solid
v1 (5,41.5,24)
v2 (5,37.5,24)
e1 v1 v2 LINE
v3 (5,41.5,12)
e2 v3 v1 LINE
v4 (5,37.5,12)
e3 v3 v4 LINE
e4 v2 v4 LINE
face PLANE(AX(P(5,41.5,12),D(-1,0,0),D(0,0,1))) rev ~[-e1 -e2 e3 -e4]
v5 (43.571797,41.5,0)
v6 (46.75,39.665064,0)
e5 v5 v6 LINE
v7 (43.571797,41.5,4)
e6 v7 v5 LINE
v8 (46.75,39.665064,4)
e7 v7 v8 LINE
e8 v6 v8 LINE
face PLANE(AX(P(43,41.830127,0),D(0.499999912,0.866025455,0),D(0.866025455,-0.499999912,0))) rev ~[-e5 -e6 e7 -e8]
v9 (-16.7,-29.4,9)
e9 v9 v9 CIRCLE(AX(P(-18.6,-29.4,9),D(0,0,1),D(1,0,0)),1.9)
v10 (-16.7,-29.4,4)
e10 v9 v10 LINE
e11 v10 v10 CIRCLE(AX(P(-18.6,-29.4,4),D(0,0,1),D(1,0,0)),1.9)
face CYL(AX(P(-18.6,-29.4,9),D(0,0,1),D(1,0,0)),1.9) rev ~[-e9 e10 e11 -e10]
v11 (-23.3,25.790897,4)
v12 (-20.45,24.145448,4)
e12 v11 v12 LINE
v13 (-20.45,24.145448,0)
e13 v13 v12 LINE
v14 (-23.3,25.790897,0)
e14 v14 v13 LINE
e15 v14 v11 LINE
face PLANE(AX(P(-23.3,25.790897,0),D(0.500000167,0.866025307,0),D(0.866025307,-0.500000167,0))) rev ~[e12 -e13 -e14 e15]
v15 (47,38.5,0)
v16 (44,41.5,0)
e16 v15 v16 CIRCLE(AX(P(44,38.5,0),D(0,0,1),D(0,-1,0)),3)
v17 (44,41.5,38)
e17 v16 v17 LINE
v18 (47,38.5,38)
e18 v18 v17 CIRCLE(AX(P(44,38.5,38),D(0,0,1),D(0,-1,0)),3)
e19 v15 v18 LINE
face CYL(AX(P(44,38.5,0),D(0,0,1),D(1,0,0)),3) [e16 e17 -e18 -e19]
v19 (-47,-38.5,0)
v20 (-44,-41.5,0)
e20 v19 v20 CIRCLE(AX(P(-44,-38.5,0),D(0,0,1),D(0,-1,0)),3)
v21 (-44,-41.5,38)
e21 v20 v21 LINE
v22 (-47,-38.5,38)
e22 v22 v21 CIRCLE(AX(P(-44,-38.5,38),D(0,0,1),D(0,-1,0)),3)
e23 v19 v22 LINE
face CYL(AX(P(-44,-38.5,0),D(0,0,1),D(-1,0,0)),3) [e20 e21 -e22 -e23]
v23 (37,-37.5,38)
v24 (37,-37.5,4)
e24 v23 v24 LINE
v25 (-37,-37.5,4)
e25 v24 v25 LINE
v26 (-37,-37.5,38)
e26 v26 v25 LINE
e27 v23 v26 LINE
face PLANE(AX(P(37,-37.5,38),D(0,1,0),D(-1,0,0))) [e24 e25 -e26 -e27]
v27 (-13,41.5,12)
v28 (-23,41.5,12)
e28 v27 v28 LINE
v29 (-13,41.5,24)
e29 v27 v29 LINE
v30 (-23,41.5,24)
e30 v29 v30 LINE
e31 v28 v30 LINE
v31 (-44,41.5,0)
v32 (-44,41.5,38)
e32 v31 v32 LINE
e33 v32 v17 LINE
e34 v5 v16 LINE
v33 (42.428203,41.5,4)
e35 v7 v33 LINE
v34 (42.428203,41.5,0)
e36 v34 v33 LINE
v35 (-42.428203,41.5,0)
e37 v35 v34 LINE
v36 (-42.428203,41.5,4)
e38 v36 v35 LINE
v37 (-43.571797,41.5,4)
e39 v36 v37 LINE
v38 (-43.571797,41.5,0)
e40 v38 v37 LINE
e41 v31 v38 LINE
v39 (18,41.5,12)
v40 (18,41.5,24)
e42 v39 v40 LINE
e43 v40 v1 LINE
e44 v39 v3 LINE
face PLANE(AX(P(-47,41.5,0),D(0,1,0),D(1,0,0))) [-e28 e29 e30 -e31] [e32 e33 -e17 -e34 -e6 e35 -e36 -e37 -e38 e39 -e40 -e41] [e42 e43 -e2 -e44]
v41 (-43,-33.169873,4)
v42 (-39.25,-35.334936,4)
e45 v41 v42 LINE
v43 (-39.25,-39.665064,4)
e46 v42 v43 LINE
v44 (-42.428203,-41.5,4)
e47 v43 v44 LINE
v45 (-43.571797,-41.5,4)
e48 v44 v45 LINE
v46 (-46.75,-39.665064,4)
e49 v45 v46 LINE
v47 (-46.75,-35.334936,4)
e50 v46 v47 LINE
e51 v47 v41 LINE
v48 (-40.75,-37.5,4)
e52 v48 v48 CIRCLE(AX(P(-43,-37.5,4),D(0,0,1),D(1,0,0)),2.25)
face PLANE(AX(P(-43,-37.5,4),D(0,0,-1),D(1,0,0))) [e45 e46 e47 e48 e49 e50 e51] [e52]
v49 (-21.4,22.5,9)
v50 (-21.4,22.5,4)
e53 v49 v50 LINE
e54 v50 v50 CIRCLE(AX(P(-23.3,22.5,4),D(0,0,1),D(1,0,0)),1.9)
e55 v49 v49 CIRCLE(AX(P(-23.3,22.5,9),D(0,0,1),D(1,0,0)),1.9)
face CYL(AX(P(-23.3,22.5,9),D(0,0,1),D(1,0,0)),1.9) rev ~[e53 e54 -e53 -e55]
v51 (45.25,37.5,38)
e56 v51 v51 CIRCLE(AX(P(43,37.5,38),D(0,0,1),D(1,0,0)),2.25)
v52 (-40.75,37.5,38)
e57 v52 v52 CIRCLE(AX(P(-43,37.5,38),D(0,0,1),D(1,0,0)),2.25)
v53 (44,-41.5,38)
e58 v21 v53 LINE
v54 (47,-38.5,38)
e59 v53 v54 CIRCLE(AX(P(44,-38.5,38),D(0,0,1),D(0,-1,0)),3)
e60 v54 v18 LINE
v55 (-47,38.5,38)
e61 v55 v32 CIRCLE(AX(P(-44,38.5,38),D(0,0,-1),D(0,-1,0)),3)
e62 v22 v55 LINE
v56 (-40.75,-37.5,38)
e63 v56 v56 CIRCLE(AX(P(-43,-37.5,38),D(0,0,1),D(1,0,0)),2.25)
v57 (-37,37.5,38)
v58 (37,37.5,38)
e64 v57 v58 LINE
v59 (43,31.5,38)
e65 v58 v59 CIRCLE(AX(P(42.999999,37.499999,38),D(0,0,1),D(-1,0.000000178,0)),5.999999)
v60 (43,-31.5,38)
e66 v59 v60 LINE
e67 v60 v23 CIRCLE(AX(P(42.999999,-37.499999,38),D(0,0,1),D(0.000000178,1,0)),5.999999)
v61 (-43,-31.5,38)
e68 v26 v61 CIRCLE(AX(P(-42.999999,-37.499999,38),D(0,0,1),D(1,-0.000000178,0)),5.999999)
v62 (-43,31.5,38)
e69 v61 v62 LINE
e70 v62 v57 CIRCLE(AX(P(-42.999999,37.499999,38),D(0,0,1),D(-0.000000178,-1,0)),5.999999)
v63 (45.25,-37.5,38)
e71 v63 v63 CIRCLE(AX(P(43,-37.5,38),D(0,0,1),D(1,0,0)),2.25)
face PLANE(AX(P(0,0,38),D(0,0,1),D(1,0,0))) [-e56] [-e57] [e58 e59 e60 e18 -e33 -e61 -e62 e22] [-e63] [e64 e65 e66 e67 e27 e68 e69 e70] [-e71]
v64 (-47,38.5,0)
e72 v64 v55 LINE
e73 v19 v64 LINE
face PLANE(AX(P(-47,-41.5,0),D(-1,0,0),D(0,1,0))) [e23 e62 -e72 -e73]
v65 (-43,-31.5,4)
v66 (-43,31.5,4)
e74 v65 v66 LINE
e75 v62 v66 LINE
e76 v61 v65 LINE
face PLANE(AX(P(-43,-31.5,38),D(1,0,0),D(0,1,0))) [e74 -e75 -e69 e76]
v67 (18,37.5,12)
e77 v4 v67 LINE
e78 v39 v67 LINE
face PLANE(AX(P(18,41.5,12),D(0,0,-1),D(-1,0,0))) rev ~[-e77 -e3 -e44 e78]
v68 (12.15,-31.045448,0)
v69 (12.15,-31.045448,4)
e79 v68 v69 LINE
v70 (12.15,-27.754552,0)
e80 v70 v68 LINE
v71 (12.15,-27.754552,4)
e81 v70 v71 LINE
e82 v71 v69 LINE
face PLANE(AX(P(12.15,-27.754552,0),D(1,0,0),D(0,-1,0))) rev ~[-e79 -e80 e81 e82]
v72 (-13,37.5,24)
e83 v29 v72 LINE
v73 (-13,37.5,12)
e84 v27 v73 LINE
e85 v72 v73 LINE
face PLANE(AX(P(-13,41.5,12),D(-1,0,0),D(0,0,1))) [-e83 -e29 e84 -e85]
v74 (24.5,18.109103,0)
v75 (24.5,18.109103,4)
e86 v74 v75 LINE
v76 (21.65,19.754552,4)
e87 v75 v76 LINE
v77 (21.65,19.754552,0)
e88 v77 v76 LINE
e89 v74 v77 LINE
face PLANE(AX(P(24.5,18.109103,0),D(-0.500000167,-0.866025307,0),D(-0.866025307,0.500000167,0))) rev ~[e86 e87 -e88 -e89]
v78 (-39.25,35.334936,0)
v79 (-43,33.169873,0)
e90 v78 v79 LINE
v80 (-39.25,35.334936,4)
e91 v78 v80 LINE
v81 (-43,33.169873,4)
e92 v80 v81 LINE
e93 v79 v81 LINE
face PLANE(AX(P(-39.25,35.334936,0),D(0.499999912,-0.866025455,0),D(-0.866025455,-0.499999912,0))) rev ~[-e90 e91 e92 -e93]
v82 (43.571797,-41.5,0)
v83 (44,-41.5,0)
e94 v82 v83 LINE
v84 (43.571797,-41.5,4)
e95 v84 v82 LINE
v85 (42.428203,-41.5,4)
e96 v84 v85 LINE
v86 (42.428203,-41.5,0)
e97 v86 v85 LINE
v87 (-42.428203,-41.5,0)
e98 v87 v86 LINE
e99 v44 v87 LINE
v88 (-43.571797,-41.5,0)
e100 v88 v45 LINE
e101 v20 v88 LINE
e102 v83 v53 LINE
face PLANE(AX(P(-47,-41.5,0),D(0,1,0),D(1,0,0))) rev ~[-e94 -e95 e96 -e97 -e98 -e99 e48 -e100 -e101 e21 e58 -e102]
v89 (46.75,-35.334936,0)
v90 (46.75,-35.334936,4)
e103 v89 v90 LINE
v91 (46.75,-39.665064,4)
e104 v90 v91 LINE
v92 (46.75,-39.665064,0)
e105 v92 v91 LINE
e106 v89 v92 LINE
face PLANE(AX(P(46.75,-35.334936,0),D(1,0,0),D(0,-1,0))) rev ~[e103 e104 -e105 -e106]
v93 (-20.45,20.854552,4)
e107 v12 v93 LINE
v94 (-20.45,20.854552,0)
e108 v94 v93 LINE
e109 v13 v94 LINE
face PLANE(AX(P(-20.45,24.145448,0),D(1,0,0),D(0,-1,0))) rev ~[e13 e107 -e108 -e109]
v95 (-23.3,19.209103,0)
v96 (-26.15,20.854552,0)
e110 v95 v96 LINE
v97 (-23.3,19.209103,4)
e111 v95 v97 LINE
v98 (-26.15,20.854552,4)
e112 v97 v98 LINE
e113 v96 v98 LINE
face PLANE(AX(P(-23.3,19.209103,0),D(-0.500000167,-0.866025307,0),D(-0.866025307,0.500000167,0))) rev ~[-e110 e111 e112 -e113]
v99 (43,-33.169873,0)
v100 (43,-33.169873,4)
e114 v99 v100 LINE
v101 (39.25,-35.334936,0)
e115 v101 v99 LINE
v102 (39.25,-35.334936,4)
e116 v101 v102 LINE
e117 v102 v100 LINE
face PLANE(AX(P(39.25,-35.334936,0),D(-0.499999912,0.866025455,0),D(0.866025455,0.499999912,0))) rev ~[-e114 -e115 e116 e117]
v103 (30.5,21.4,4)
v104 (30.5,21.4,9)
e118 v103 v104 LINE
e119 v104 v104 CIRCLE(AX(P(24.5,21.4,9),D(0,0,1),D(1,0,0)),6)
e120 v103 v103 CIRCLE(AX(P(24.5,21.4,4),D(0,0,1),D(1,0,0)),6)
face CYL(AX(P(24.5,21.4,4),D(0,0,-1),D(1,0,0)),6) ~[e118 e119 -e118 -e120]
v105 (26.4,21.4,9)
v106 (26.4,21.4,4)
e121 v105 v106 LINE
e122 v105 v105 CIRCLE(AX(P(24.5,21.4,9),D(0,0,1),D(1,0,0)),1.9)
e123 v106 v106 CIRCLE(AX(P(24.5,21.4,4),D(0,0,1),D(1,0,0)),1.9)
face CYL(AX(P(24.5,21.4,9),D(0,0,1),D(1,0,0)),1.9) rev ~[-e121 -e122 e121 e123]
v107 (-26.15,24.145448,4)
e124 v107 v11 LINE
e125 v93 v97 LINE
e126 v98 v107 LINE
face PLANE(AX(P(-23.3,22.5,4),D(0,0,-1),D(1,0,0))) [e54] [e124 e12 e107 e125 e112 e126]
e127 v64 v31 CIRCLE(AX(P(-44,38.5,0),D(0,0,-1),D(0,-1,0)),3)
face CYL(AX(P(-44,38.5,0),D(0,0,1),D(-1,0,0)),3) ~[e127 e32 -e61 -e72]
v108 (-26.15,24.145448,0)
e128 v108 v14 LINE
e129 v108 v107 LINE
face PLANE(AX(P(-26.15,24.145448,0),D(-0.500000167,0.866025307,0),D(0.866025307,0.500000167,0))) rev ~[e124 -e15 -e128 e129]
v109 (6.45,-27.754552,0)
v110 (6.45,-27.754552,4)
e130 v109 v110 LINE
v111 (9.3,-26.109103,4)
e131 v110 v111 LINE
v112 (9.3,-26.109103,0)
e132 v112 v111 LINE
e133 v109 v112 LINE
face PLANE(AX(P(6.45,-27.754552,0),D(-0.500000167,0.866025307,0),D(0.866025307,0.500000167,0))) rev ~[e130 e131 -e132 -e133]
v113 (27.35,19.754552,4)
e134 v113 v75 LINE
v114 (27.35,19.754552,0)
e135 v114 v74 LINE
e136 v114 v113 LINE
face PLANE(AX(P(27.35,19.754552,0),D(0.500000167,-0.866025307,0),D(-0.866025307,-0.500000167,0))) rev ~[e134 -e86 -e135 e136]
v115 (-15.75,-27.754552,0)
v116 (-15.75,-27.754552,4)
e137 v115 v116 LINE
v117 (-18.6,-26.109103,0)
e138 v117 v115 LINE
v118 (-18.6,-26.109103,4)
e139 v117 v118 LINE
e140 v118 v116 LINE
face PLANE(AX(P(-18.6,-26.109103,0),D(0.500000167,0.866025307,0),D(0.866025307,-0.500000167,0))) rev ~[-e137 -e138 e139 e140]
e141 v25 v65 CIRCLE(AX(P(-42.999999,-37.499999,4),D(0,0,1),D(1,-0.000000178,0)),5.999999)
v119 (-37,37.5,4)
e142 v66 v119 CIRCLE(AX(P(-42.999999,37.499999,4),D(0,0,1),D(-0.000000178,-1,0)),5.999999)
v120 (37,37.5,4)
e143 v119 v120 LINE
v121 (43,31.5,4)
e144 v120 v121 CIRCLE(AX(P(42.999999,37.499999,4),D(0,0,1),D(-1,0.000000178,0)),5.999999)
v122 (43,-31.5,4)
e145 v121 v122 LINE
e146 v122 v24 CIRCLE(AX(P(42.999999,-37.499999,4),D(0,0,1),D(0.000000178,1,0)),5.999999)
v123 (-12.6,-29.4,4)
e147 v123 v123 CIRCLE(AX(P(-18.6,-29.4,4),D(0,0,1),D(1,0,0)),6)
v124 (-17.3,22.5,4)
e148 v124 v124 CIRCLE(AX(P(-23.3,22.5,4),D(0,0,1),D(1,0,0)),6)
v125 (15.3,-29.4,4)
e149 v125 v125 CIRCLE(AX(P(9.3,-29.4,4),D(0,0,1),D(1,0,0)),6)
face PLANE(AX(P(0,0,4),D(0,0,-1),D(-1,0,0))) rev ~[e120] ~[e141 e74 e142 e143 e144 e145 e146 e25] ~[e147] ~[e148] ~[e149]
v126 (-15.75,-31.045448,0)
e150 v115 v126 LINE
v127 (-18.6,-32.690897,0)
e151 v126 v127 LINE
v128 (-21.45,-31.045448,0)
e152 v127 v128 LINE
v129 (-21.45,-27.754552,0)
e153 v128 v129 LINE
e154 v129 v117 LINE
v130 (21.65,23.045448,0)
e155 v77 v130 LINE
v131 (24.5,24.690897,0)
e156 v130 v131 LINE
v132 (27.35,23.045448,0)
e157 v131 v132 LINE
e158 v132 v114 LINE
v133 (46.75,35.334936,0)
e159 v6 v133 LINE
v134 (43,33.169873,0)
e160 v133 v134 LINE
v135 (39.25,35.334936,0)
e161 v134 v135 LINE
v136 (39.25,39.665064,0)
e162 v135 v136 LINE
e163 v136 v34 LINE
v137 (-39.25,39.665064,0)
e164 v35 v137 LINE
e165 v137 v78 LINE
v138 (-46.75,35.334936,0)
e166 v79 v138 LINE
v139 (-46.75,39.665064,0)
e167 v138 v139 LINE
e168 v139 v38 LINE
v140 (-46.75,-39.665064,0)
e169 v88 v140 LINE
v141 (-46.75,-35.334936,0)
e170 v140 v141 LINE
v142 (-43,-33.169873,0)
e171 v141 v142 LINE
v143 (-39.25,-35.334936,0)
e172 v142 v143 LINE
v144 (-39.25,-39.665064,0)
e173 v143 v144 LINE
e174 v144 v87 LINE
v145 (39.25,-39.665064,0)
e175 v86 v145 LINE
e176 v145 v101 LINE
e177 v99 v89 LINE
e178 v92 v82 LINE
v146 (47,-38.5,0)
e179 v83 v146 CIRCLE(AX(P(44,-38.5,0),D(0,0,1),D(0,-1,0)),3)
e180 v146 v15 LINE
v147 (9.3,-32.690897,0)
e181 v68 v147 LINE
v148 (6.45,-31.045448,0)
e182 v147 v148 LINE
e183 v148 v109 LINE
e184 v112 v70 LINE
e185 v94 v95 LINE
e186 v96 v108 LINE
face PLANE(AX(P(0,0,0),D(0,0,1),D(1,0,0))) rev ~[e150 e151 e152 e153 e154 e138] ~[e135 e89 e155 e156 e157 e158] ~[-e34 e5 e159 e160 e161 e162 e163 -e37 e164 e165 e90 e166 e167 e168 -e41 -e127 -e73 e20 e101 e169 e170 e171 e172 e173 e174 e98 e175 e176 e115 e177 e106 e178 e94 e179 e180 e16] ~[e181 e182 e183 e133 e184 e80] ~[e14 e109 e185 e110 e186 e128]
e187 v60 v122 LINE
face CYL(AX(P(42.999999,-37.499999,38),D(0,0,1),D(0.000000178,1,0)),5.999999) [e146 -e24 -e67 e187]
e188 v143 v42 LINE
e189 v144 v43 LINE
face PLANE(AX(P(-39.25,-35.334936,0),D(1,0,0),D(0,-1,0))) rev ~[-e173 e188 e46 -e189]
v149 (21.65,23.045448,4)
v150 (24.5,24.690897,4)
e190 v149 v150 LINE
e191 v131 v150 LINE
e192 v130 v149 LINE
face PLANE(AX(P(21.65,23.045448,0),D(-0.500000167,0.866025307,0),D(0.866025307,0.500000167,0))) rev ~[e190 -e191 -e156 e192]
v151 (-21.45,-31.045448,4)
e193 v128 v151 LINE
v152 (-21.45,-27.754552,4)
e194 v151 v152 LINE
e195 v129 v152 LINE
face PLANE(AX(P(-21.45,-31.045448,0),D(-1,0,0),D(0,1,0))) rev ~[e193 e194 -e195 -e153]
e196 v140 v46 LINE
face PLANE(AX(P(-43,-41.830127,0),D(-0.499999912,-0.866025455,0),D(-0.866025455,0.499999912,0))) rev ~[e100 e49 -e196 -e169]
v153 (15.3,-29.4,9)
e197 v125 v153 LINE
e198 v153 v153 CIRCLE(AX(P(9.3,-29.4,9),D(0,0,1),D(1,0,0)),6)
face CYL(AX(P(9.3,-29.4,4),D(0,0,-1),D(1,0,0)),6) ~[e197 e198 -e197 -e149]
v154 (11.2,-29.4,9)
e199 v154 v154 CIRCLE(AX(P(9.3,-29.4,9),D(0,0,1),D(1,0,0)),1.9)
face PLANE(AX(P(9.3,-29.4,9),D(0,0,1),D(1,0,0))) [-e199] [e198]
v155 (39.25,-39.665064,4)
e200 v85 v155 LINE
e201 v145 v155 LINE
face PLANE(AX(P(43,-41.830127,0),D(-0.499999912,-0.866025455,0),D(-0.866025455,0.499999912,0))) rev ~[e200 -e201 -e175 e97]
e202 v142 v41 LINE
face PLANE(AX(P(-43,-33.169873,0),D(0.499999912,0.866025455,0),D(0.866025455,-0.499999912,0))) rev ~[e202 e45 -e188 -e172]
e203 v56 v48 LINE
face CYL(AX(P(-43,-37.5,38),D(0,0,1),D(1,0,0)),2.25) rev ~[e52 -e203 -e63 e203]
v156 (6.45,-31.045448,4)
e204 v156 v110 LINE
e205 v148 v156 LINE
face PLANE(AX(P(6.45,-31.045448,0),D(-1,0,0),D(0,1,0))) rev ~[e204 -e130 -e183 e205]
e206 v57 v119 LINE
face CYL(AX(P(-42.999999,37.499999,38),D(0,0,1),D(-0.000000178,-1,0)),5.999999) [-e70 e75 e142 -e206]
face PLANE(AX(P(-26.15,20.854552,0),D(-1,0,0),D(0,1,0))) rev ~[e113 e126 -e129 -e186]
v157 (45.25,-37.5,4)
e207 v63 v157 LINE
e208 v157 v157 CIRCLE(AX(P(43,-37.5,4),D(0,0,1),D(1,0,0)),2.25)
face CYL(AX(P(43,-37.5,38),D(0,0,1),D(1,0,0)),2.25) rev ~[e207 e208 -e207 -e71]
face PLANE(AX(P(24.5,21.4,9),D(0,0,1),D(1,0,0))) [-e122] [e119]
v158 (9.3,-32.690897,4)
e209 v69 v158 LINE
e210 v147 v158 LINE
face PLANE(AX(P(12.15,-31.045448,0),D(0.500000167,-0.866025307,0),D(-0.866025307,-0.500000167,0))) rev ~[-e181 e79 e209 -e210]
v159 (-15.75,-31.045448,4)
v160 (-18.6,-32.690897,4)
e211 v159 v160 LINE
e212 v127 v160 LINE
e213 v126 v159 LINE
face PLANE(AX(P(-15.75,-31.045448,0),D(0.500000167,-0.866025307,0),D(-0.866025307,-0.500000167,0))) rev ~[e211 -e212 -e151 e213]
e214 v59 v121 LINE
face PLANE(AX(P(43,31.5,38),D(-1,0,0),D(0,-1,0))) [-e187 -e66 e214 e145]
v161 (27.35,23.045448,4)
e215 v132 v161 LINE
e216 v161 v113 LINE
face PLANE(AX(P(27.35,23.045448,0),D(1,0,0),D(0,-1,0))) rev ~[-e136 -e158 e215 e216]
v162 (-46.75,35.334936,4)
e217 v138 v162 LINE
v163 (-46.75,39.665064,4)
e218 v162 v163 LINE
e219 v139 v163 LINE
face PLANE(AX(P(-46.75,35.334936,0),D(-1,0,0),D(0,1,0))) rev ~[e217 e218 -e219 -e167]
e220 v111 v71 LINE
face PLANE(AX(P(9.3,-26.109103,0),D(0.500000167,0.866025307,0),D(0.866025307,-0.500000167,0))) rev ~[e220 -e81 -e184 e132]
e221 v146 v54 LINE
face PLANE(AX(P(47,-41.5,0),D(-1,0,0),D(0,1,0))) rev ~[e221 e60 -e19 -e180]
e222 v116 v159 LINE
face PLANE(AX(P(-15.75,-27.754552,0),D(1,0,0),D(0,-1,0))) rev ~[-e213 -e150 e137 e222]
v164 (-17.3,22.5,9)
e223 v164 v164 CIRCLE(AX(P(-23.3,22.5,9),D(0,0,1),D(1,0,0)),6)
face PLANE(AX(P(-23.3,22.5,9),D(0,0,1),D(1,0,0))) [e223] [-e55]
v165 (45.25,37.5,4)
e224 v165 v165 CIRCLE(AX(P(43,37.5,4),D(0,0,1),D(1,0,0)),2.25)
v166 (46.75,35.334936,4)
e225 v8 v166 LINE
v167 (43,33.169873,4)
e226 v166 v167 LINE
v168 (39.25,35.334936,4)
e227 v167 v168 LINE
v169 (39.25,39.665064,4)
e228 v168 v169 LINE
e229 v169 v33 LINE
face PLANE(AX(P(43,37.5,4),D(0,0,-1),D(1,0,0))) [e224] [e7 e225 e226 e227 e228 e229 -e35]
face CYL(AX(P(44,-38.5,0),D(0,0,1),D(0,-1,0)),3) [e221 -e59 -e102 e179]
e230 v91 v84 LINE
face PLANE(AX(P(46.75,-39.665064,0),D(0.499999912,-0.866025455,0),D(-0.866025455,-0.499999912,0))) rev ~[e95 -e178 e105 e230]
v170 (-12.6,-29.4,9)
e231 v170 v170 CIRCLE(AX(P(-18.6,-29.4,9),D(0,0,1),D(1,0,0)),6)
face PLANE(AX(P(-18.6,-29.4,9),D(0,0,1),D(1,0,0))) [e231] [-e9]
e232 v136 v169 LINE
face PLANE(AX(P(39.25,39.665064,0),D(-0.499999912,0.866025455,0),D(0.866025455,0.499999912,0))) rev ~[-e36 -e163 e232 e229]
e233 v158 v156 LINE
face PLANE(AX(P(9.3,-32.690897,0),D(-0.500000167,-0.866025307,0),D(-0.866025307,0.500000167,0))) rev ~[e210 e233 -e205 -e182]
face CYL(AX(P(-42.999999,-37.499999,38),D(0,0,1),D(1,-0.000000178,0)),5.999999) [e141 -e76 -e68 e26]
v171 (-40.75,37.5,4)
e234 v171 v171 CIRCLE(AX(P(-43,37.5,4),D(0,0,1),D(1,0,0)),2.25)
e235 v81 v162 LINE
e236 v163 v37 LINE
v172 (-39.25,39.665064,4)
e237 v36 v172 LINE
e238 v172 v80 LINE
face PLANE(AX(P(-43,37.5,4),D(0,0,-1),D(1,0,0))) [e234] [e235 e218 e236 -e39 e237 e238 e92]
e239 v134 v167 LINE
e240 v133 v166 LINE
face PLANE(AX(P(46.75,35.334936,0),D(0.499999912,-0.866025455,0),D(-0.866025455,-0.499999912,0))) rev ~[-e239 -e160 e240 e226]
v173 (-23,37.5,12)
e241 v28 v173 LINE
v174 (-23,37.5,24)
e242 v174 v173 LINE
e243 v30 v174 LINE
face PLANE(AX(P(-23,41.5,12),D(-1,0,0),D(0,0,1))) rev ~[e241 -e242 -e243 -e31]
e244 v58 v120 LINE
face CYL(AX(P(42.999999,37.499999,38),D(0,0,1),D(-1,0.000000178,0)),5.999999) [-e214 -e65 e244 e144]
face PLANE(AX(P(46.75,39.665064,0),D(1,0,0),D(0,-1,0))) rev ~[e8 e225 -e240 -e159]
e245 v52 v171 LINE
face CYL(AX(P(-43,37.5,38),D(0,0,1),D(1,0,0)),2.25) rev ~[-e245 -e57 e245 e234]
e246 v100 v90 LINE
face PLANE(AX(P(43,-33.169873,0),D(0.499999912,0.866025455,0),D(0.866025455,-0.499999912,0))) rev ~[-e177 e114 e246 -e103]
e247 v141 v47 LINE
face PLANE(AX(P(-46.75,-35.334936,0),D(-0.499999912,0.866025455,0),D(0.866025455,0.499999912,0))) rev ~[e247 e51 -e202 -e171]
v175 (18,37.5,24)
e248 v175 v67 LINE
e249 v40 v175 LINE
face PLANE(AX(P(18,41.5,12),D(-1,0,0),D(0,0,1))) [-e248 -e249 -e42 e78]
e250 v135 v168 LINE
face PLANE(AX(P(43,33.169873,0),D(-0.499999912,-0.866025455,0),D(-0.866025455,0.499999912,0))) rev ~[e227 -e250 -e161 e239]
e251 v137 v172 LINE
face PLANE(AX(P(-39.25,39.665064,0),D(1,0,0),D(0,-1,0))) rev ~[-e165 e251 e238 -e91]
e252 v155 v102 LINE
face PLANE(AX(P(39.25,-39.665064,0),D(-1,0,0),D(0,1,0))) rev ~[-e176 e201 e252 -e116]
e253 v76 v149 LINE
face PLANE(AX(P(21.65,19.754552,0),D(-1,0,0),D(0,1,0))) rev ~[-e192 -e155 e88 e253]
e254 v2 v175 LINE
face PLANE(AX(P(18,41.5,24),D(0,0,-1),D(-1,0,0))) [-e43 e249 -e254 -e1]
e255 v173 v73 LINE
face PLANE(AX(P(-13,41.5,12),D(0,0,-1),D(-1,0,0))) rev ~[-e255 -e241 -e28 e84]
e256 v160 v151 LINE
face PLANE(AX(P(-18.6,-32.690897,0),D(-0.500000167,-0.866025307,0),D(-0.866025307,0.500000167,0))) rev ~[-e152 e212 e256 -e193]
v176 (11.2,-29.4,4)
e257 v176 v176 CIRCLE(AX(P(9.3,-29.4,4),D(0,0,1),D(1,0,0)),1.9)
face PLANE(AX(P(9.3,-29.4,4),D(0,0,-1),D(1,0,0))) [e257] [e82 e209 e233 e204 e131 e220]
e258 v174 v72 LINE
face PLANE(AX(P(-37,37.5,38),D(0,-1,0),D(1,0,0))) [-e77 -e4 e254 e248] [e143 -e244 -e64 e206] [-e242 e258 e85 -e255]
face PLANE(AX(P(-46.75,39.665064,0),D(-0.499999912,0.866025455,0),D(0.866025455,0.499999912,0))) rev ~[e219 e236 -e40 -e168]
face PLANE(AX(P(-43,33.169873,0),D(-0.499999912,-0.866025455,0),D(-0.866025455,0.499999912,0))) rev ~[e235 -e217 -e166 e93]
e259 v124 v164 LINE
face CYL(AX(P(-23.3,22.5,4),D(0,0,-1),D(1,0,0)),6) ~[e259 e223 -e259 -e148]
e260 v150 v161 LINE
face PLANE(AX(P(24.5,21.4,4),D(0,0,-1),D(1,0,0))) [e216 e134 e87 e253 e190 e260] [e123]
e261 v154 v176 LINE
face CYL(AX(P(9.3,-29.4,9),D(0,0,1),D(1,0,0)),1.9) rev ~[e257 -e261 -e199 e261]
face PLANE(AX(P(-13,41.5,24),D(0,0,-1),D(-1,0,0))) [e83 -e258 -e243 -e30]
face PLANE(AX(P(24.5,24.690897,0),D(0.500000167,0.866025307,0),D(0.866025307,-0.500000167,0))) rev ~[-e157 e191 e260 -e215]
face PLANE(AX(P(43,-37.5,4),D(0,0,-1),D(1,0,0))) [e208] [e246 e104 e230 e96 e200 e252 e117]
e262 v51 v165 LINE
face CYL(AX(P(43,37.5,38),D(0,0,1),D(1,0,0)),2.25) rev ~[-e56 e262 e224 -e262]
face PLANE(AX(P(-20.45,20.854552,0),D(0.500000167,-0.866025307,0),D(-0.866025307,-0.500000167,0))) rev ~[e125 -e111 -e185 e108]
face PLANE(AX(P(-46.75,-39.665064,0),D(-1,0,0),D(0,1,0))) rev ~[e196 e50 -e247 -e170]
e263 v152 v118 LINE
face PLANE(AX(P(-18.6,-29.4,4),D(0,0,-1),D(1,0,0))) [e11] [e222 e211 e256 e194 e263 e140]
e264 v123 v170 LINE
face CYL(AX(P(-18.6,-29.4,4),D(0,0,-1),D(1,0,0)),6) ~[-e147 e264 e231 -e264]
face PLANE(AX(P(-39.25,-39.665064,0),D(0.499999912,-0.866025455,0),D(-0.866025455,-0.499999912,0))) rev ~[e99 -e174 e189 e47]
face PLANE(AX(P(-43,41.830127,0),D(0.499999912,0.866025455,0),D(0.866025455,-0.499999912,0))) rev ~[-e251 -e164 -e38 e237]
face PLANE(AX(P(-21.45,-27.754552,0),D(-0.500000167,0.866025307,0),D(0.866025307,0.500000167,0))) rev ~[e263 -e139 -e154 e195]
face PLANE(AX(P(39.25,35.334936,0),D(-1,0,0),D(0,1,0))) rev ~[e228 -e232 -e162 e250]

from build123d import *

# Parameters (mm, degrees)
SKETCH_W        = 94
SKETCH_H        = 83
PAD_DEPTH       = 38
POCKET_DEPTH    = 34
SKETCH002_R     = 6
PAD001_DEPTH    = 5
SKETCH004_W     = 13
SKETCH004_H     = 12
SKETCH004_W_2   = 10
POCKET001_DEPTH = 5
SKETCH005_R     = 1.9
POCKET002_DEPTH = 9.001
POCKET003_DEPTH = 4
SKETCH007_R     = 2.25
POCKET004_DEPTH = 38.001
POCKET005_DEPTH = 4
FILLET_R        = 3
FILLET001_R     = 3
FILLET002_R     = 3
FILLET003_R     = 3


with BuildPart() as part:
    # Sketch → Pad (new body)
    with BuildSketch(Plane.XY):
        Rectangle(SKETCH_W, SKETCH_H)
    extrude(amount=PAD_DEPTH)

    # Sketch001 (on Face6 of Pad) → Pocket (cut)
    with BuildSketch(Plane.XY.offset(38)):
        with BuildLine():
            Line((-37, 37.5), (37, 37.5))
            ThreePointArc((37, 37.5), (38.757359, 33.257359), (43, 31.5))
            Line((43, 31.5), (43, -31.5))
            ThreePointArc((43, -31.5), (38.757359, -33.257359), (37, -37.5))
            Line((37, -37.5), (-37, -37.5))
            ThreePointArc((-37, -37.5), (-38.757359, -33.257359), (-43, -31.5))
            Line((-43, -31.5), (-43, 31.5))
            ThreePointArc((-43, 31.5), (-38.757359, 33.257359), (-37, 37.5))
        make_face()
    extrude(amount=-POCKET_DEPTH, mode=Mode.SUBTRACT)

    # Sketch002 (on Face15 of Pocket) → Pad001 (join)
    with BuildSketch(Plane.XY.offset(4)):
        with Locations((-23.3, 22.5)):
            Circle(SKETCH002_R)
        with Locations((24.5, 21.4)):
            Circle(SKETCH002_R)
        with Locations((-18.6, -29.4)):
            Circle(SKETCH002_R)
        with Locations((9.3, -29.4)):
            Circle(SKETCH002_R)
    extrude(amount=PAD001_DEPTH)

    # Sketch004 → Pocket001 (cut)
    with BuildSketch(Plane(origin=(0, 41.5, 0), x_dir=(-1, 0, 0), z_dir=(0, 1, 0))):
        with Locations((-11.5, 18)):
            Rectangle(SKETCH004_W, SKETCH004_H)
        with Locations((18, 18)):
            Rectangle(SKETCH004_W_2, SKETCH004_H)
    extrude(amount=-POCKET001_DEPTH, mode=Mode.SUBTRACT)

    # Sketch005 (on Face30 of Pocket001) → Pocket002 (cut, through all)
    with BuildSketch(Plane.XY.offset(9)):
        with Locations((-23.3, 22.5)):
            Circle(SKETCH005_R)
        with Locations((24.5, 21.4)):
            Circle(SKETCH005_R)
        with Locations((-18.6, -29.4)):
            Circle(SKETCH005_R)
        with Locations((9.3, -29.4)):
            Circle(SKETCH005_R)
    extrude(amount=-POCKET002_DEPTH, mode=Mode.SUBTRACT)

    # Sketch006 (on Face3 of Pocket002) → Pocket003 (cut)
    with BuildSketch(Plane(origin=(0, 0, 0), x_dir=(1, 0, 0), z_dir=(0, 0, -1))):
        Polygon((-15.75, 27.754552), (-15.75, 31.045448), (-18.6, 32.690897), (-21.45, 31.045448), (-21.45, 27.754552), (-18.6, 26.109103), align=None)
        Polygon((12.15, 27.754552), (12.15, 31.045448), (9.3, 32.690897), (6.45, 31.045448), (6.45, 27.754552), (9.3, 26.109103), align=None)
        Polygon((-20.45, -24.145448), (-20.45, -20.854552), (-23.3, -19.209103), (-26.15, -20.854552), (-26.15, -24.145448), (-23.3, -25.790897), align=None)
        Polygon((27.35, -23.045448), (27.35, -19.754552), (24.5, -18.109103), (21.65, -19.754552), (21.65, -23.045448), (24.5, -24.690897), align=None)
    extrude(amount=-POCKET003_DEPTH, mode=Mode.SUBTRACT)

    # Sketch007 (on Face4 of Pocket003) → Pocket004 (cut, through all)
    with BuildSketch(Plane.XY.offset(38)):
        with Locations((-43, 37.5)):
            Circle(SKETCH007_R)
        with Locations((43, 37.5)):
            Circle(SKETCH007_R)
        with Locations((43, -37.5)):
            Circle(SKETCH007_R)
        with Locations((-43, -37.5)):
            Circle(SKETCH007_R)
    extrude(amount=-POCKET004_DEPTH, mode=Mode.SUBTRACT)

    # Sketch008 (on Face3 of Pocket004) → Pocket005 (cut)
    with BuildSketch(Plane(origin=(0, 0, 0), x_dir=(1, 0, 0), z_dir=(0, 0, -1))):
        Polygon((-43, -41.830127), (-39.25, -39.665064), (-39.25, -35.334936), (-43, -33.169873), (-46.75, -35.334936), (-46.75, -39.665064), align=None)
        Polygon((43, -41.830127), (46.75, -39.665064), (46.75, -35.334936), (43, -33.169873), (39.25, -35.334936), (39.25, -39.665064), align=None)
        Polygon((-39.25, 35.334936), (-39.25, 39.665064), (-43, 41.830127), (-46.75, 39.665064), (-46.75, 35.334936), (-43, 33.169873), align=None)
        Polygon((43, 33.169873), (46.75, 35.334936), (46.75, 39.665064), (43, 41.830127), (39.25, 39.665064), (39.25, 35.334936), align=None)
    extrude(amount=-POCKET005_DEPTH, mode=Mode.SUBTRACT)

    # Fillet
    fillet_edges = [part.edges().sort_by_distance(p)[0] for p in [
        (-47, 41.5, 19),
    ]]
    fillet(fillet_edges, radius=FILLET_R)

    # Fillet001
    fillet001_edges = [part.edges().sort_by_distance(p)[0] for p in [
        (-47, -41.5, 19),
    ]]
    fillet(fillet001_edges, radius=FILLET001_R)

    # Fillet002
    fillet002_edges = [part.edges().sort_by_distance(p)[0] for p in [
        (47, -41.5, 19),
    ]]
    fillet(fillet002_edges, radius=FILLET002_R)

    # Fillet003
    fillet003_edges = [part.edges().sort_by_distance(p)[0] for p in [
        (47, 41.5, 19),
    ]]
    fillet(fillet003_edges, radius=FILLET003_R)


solid = part.part
